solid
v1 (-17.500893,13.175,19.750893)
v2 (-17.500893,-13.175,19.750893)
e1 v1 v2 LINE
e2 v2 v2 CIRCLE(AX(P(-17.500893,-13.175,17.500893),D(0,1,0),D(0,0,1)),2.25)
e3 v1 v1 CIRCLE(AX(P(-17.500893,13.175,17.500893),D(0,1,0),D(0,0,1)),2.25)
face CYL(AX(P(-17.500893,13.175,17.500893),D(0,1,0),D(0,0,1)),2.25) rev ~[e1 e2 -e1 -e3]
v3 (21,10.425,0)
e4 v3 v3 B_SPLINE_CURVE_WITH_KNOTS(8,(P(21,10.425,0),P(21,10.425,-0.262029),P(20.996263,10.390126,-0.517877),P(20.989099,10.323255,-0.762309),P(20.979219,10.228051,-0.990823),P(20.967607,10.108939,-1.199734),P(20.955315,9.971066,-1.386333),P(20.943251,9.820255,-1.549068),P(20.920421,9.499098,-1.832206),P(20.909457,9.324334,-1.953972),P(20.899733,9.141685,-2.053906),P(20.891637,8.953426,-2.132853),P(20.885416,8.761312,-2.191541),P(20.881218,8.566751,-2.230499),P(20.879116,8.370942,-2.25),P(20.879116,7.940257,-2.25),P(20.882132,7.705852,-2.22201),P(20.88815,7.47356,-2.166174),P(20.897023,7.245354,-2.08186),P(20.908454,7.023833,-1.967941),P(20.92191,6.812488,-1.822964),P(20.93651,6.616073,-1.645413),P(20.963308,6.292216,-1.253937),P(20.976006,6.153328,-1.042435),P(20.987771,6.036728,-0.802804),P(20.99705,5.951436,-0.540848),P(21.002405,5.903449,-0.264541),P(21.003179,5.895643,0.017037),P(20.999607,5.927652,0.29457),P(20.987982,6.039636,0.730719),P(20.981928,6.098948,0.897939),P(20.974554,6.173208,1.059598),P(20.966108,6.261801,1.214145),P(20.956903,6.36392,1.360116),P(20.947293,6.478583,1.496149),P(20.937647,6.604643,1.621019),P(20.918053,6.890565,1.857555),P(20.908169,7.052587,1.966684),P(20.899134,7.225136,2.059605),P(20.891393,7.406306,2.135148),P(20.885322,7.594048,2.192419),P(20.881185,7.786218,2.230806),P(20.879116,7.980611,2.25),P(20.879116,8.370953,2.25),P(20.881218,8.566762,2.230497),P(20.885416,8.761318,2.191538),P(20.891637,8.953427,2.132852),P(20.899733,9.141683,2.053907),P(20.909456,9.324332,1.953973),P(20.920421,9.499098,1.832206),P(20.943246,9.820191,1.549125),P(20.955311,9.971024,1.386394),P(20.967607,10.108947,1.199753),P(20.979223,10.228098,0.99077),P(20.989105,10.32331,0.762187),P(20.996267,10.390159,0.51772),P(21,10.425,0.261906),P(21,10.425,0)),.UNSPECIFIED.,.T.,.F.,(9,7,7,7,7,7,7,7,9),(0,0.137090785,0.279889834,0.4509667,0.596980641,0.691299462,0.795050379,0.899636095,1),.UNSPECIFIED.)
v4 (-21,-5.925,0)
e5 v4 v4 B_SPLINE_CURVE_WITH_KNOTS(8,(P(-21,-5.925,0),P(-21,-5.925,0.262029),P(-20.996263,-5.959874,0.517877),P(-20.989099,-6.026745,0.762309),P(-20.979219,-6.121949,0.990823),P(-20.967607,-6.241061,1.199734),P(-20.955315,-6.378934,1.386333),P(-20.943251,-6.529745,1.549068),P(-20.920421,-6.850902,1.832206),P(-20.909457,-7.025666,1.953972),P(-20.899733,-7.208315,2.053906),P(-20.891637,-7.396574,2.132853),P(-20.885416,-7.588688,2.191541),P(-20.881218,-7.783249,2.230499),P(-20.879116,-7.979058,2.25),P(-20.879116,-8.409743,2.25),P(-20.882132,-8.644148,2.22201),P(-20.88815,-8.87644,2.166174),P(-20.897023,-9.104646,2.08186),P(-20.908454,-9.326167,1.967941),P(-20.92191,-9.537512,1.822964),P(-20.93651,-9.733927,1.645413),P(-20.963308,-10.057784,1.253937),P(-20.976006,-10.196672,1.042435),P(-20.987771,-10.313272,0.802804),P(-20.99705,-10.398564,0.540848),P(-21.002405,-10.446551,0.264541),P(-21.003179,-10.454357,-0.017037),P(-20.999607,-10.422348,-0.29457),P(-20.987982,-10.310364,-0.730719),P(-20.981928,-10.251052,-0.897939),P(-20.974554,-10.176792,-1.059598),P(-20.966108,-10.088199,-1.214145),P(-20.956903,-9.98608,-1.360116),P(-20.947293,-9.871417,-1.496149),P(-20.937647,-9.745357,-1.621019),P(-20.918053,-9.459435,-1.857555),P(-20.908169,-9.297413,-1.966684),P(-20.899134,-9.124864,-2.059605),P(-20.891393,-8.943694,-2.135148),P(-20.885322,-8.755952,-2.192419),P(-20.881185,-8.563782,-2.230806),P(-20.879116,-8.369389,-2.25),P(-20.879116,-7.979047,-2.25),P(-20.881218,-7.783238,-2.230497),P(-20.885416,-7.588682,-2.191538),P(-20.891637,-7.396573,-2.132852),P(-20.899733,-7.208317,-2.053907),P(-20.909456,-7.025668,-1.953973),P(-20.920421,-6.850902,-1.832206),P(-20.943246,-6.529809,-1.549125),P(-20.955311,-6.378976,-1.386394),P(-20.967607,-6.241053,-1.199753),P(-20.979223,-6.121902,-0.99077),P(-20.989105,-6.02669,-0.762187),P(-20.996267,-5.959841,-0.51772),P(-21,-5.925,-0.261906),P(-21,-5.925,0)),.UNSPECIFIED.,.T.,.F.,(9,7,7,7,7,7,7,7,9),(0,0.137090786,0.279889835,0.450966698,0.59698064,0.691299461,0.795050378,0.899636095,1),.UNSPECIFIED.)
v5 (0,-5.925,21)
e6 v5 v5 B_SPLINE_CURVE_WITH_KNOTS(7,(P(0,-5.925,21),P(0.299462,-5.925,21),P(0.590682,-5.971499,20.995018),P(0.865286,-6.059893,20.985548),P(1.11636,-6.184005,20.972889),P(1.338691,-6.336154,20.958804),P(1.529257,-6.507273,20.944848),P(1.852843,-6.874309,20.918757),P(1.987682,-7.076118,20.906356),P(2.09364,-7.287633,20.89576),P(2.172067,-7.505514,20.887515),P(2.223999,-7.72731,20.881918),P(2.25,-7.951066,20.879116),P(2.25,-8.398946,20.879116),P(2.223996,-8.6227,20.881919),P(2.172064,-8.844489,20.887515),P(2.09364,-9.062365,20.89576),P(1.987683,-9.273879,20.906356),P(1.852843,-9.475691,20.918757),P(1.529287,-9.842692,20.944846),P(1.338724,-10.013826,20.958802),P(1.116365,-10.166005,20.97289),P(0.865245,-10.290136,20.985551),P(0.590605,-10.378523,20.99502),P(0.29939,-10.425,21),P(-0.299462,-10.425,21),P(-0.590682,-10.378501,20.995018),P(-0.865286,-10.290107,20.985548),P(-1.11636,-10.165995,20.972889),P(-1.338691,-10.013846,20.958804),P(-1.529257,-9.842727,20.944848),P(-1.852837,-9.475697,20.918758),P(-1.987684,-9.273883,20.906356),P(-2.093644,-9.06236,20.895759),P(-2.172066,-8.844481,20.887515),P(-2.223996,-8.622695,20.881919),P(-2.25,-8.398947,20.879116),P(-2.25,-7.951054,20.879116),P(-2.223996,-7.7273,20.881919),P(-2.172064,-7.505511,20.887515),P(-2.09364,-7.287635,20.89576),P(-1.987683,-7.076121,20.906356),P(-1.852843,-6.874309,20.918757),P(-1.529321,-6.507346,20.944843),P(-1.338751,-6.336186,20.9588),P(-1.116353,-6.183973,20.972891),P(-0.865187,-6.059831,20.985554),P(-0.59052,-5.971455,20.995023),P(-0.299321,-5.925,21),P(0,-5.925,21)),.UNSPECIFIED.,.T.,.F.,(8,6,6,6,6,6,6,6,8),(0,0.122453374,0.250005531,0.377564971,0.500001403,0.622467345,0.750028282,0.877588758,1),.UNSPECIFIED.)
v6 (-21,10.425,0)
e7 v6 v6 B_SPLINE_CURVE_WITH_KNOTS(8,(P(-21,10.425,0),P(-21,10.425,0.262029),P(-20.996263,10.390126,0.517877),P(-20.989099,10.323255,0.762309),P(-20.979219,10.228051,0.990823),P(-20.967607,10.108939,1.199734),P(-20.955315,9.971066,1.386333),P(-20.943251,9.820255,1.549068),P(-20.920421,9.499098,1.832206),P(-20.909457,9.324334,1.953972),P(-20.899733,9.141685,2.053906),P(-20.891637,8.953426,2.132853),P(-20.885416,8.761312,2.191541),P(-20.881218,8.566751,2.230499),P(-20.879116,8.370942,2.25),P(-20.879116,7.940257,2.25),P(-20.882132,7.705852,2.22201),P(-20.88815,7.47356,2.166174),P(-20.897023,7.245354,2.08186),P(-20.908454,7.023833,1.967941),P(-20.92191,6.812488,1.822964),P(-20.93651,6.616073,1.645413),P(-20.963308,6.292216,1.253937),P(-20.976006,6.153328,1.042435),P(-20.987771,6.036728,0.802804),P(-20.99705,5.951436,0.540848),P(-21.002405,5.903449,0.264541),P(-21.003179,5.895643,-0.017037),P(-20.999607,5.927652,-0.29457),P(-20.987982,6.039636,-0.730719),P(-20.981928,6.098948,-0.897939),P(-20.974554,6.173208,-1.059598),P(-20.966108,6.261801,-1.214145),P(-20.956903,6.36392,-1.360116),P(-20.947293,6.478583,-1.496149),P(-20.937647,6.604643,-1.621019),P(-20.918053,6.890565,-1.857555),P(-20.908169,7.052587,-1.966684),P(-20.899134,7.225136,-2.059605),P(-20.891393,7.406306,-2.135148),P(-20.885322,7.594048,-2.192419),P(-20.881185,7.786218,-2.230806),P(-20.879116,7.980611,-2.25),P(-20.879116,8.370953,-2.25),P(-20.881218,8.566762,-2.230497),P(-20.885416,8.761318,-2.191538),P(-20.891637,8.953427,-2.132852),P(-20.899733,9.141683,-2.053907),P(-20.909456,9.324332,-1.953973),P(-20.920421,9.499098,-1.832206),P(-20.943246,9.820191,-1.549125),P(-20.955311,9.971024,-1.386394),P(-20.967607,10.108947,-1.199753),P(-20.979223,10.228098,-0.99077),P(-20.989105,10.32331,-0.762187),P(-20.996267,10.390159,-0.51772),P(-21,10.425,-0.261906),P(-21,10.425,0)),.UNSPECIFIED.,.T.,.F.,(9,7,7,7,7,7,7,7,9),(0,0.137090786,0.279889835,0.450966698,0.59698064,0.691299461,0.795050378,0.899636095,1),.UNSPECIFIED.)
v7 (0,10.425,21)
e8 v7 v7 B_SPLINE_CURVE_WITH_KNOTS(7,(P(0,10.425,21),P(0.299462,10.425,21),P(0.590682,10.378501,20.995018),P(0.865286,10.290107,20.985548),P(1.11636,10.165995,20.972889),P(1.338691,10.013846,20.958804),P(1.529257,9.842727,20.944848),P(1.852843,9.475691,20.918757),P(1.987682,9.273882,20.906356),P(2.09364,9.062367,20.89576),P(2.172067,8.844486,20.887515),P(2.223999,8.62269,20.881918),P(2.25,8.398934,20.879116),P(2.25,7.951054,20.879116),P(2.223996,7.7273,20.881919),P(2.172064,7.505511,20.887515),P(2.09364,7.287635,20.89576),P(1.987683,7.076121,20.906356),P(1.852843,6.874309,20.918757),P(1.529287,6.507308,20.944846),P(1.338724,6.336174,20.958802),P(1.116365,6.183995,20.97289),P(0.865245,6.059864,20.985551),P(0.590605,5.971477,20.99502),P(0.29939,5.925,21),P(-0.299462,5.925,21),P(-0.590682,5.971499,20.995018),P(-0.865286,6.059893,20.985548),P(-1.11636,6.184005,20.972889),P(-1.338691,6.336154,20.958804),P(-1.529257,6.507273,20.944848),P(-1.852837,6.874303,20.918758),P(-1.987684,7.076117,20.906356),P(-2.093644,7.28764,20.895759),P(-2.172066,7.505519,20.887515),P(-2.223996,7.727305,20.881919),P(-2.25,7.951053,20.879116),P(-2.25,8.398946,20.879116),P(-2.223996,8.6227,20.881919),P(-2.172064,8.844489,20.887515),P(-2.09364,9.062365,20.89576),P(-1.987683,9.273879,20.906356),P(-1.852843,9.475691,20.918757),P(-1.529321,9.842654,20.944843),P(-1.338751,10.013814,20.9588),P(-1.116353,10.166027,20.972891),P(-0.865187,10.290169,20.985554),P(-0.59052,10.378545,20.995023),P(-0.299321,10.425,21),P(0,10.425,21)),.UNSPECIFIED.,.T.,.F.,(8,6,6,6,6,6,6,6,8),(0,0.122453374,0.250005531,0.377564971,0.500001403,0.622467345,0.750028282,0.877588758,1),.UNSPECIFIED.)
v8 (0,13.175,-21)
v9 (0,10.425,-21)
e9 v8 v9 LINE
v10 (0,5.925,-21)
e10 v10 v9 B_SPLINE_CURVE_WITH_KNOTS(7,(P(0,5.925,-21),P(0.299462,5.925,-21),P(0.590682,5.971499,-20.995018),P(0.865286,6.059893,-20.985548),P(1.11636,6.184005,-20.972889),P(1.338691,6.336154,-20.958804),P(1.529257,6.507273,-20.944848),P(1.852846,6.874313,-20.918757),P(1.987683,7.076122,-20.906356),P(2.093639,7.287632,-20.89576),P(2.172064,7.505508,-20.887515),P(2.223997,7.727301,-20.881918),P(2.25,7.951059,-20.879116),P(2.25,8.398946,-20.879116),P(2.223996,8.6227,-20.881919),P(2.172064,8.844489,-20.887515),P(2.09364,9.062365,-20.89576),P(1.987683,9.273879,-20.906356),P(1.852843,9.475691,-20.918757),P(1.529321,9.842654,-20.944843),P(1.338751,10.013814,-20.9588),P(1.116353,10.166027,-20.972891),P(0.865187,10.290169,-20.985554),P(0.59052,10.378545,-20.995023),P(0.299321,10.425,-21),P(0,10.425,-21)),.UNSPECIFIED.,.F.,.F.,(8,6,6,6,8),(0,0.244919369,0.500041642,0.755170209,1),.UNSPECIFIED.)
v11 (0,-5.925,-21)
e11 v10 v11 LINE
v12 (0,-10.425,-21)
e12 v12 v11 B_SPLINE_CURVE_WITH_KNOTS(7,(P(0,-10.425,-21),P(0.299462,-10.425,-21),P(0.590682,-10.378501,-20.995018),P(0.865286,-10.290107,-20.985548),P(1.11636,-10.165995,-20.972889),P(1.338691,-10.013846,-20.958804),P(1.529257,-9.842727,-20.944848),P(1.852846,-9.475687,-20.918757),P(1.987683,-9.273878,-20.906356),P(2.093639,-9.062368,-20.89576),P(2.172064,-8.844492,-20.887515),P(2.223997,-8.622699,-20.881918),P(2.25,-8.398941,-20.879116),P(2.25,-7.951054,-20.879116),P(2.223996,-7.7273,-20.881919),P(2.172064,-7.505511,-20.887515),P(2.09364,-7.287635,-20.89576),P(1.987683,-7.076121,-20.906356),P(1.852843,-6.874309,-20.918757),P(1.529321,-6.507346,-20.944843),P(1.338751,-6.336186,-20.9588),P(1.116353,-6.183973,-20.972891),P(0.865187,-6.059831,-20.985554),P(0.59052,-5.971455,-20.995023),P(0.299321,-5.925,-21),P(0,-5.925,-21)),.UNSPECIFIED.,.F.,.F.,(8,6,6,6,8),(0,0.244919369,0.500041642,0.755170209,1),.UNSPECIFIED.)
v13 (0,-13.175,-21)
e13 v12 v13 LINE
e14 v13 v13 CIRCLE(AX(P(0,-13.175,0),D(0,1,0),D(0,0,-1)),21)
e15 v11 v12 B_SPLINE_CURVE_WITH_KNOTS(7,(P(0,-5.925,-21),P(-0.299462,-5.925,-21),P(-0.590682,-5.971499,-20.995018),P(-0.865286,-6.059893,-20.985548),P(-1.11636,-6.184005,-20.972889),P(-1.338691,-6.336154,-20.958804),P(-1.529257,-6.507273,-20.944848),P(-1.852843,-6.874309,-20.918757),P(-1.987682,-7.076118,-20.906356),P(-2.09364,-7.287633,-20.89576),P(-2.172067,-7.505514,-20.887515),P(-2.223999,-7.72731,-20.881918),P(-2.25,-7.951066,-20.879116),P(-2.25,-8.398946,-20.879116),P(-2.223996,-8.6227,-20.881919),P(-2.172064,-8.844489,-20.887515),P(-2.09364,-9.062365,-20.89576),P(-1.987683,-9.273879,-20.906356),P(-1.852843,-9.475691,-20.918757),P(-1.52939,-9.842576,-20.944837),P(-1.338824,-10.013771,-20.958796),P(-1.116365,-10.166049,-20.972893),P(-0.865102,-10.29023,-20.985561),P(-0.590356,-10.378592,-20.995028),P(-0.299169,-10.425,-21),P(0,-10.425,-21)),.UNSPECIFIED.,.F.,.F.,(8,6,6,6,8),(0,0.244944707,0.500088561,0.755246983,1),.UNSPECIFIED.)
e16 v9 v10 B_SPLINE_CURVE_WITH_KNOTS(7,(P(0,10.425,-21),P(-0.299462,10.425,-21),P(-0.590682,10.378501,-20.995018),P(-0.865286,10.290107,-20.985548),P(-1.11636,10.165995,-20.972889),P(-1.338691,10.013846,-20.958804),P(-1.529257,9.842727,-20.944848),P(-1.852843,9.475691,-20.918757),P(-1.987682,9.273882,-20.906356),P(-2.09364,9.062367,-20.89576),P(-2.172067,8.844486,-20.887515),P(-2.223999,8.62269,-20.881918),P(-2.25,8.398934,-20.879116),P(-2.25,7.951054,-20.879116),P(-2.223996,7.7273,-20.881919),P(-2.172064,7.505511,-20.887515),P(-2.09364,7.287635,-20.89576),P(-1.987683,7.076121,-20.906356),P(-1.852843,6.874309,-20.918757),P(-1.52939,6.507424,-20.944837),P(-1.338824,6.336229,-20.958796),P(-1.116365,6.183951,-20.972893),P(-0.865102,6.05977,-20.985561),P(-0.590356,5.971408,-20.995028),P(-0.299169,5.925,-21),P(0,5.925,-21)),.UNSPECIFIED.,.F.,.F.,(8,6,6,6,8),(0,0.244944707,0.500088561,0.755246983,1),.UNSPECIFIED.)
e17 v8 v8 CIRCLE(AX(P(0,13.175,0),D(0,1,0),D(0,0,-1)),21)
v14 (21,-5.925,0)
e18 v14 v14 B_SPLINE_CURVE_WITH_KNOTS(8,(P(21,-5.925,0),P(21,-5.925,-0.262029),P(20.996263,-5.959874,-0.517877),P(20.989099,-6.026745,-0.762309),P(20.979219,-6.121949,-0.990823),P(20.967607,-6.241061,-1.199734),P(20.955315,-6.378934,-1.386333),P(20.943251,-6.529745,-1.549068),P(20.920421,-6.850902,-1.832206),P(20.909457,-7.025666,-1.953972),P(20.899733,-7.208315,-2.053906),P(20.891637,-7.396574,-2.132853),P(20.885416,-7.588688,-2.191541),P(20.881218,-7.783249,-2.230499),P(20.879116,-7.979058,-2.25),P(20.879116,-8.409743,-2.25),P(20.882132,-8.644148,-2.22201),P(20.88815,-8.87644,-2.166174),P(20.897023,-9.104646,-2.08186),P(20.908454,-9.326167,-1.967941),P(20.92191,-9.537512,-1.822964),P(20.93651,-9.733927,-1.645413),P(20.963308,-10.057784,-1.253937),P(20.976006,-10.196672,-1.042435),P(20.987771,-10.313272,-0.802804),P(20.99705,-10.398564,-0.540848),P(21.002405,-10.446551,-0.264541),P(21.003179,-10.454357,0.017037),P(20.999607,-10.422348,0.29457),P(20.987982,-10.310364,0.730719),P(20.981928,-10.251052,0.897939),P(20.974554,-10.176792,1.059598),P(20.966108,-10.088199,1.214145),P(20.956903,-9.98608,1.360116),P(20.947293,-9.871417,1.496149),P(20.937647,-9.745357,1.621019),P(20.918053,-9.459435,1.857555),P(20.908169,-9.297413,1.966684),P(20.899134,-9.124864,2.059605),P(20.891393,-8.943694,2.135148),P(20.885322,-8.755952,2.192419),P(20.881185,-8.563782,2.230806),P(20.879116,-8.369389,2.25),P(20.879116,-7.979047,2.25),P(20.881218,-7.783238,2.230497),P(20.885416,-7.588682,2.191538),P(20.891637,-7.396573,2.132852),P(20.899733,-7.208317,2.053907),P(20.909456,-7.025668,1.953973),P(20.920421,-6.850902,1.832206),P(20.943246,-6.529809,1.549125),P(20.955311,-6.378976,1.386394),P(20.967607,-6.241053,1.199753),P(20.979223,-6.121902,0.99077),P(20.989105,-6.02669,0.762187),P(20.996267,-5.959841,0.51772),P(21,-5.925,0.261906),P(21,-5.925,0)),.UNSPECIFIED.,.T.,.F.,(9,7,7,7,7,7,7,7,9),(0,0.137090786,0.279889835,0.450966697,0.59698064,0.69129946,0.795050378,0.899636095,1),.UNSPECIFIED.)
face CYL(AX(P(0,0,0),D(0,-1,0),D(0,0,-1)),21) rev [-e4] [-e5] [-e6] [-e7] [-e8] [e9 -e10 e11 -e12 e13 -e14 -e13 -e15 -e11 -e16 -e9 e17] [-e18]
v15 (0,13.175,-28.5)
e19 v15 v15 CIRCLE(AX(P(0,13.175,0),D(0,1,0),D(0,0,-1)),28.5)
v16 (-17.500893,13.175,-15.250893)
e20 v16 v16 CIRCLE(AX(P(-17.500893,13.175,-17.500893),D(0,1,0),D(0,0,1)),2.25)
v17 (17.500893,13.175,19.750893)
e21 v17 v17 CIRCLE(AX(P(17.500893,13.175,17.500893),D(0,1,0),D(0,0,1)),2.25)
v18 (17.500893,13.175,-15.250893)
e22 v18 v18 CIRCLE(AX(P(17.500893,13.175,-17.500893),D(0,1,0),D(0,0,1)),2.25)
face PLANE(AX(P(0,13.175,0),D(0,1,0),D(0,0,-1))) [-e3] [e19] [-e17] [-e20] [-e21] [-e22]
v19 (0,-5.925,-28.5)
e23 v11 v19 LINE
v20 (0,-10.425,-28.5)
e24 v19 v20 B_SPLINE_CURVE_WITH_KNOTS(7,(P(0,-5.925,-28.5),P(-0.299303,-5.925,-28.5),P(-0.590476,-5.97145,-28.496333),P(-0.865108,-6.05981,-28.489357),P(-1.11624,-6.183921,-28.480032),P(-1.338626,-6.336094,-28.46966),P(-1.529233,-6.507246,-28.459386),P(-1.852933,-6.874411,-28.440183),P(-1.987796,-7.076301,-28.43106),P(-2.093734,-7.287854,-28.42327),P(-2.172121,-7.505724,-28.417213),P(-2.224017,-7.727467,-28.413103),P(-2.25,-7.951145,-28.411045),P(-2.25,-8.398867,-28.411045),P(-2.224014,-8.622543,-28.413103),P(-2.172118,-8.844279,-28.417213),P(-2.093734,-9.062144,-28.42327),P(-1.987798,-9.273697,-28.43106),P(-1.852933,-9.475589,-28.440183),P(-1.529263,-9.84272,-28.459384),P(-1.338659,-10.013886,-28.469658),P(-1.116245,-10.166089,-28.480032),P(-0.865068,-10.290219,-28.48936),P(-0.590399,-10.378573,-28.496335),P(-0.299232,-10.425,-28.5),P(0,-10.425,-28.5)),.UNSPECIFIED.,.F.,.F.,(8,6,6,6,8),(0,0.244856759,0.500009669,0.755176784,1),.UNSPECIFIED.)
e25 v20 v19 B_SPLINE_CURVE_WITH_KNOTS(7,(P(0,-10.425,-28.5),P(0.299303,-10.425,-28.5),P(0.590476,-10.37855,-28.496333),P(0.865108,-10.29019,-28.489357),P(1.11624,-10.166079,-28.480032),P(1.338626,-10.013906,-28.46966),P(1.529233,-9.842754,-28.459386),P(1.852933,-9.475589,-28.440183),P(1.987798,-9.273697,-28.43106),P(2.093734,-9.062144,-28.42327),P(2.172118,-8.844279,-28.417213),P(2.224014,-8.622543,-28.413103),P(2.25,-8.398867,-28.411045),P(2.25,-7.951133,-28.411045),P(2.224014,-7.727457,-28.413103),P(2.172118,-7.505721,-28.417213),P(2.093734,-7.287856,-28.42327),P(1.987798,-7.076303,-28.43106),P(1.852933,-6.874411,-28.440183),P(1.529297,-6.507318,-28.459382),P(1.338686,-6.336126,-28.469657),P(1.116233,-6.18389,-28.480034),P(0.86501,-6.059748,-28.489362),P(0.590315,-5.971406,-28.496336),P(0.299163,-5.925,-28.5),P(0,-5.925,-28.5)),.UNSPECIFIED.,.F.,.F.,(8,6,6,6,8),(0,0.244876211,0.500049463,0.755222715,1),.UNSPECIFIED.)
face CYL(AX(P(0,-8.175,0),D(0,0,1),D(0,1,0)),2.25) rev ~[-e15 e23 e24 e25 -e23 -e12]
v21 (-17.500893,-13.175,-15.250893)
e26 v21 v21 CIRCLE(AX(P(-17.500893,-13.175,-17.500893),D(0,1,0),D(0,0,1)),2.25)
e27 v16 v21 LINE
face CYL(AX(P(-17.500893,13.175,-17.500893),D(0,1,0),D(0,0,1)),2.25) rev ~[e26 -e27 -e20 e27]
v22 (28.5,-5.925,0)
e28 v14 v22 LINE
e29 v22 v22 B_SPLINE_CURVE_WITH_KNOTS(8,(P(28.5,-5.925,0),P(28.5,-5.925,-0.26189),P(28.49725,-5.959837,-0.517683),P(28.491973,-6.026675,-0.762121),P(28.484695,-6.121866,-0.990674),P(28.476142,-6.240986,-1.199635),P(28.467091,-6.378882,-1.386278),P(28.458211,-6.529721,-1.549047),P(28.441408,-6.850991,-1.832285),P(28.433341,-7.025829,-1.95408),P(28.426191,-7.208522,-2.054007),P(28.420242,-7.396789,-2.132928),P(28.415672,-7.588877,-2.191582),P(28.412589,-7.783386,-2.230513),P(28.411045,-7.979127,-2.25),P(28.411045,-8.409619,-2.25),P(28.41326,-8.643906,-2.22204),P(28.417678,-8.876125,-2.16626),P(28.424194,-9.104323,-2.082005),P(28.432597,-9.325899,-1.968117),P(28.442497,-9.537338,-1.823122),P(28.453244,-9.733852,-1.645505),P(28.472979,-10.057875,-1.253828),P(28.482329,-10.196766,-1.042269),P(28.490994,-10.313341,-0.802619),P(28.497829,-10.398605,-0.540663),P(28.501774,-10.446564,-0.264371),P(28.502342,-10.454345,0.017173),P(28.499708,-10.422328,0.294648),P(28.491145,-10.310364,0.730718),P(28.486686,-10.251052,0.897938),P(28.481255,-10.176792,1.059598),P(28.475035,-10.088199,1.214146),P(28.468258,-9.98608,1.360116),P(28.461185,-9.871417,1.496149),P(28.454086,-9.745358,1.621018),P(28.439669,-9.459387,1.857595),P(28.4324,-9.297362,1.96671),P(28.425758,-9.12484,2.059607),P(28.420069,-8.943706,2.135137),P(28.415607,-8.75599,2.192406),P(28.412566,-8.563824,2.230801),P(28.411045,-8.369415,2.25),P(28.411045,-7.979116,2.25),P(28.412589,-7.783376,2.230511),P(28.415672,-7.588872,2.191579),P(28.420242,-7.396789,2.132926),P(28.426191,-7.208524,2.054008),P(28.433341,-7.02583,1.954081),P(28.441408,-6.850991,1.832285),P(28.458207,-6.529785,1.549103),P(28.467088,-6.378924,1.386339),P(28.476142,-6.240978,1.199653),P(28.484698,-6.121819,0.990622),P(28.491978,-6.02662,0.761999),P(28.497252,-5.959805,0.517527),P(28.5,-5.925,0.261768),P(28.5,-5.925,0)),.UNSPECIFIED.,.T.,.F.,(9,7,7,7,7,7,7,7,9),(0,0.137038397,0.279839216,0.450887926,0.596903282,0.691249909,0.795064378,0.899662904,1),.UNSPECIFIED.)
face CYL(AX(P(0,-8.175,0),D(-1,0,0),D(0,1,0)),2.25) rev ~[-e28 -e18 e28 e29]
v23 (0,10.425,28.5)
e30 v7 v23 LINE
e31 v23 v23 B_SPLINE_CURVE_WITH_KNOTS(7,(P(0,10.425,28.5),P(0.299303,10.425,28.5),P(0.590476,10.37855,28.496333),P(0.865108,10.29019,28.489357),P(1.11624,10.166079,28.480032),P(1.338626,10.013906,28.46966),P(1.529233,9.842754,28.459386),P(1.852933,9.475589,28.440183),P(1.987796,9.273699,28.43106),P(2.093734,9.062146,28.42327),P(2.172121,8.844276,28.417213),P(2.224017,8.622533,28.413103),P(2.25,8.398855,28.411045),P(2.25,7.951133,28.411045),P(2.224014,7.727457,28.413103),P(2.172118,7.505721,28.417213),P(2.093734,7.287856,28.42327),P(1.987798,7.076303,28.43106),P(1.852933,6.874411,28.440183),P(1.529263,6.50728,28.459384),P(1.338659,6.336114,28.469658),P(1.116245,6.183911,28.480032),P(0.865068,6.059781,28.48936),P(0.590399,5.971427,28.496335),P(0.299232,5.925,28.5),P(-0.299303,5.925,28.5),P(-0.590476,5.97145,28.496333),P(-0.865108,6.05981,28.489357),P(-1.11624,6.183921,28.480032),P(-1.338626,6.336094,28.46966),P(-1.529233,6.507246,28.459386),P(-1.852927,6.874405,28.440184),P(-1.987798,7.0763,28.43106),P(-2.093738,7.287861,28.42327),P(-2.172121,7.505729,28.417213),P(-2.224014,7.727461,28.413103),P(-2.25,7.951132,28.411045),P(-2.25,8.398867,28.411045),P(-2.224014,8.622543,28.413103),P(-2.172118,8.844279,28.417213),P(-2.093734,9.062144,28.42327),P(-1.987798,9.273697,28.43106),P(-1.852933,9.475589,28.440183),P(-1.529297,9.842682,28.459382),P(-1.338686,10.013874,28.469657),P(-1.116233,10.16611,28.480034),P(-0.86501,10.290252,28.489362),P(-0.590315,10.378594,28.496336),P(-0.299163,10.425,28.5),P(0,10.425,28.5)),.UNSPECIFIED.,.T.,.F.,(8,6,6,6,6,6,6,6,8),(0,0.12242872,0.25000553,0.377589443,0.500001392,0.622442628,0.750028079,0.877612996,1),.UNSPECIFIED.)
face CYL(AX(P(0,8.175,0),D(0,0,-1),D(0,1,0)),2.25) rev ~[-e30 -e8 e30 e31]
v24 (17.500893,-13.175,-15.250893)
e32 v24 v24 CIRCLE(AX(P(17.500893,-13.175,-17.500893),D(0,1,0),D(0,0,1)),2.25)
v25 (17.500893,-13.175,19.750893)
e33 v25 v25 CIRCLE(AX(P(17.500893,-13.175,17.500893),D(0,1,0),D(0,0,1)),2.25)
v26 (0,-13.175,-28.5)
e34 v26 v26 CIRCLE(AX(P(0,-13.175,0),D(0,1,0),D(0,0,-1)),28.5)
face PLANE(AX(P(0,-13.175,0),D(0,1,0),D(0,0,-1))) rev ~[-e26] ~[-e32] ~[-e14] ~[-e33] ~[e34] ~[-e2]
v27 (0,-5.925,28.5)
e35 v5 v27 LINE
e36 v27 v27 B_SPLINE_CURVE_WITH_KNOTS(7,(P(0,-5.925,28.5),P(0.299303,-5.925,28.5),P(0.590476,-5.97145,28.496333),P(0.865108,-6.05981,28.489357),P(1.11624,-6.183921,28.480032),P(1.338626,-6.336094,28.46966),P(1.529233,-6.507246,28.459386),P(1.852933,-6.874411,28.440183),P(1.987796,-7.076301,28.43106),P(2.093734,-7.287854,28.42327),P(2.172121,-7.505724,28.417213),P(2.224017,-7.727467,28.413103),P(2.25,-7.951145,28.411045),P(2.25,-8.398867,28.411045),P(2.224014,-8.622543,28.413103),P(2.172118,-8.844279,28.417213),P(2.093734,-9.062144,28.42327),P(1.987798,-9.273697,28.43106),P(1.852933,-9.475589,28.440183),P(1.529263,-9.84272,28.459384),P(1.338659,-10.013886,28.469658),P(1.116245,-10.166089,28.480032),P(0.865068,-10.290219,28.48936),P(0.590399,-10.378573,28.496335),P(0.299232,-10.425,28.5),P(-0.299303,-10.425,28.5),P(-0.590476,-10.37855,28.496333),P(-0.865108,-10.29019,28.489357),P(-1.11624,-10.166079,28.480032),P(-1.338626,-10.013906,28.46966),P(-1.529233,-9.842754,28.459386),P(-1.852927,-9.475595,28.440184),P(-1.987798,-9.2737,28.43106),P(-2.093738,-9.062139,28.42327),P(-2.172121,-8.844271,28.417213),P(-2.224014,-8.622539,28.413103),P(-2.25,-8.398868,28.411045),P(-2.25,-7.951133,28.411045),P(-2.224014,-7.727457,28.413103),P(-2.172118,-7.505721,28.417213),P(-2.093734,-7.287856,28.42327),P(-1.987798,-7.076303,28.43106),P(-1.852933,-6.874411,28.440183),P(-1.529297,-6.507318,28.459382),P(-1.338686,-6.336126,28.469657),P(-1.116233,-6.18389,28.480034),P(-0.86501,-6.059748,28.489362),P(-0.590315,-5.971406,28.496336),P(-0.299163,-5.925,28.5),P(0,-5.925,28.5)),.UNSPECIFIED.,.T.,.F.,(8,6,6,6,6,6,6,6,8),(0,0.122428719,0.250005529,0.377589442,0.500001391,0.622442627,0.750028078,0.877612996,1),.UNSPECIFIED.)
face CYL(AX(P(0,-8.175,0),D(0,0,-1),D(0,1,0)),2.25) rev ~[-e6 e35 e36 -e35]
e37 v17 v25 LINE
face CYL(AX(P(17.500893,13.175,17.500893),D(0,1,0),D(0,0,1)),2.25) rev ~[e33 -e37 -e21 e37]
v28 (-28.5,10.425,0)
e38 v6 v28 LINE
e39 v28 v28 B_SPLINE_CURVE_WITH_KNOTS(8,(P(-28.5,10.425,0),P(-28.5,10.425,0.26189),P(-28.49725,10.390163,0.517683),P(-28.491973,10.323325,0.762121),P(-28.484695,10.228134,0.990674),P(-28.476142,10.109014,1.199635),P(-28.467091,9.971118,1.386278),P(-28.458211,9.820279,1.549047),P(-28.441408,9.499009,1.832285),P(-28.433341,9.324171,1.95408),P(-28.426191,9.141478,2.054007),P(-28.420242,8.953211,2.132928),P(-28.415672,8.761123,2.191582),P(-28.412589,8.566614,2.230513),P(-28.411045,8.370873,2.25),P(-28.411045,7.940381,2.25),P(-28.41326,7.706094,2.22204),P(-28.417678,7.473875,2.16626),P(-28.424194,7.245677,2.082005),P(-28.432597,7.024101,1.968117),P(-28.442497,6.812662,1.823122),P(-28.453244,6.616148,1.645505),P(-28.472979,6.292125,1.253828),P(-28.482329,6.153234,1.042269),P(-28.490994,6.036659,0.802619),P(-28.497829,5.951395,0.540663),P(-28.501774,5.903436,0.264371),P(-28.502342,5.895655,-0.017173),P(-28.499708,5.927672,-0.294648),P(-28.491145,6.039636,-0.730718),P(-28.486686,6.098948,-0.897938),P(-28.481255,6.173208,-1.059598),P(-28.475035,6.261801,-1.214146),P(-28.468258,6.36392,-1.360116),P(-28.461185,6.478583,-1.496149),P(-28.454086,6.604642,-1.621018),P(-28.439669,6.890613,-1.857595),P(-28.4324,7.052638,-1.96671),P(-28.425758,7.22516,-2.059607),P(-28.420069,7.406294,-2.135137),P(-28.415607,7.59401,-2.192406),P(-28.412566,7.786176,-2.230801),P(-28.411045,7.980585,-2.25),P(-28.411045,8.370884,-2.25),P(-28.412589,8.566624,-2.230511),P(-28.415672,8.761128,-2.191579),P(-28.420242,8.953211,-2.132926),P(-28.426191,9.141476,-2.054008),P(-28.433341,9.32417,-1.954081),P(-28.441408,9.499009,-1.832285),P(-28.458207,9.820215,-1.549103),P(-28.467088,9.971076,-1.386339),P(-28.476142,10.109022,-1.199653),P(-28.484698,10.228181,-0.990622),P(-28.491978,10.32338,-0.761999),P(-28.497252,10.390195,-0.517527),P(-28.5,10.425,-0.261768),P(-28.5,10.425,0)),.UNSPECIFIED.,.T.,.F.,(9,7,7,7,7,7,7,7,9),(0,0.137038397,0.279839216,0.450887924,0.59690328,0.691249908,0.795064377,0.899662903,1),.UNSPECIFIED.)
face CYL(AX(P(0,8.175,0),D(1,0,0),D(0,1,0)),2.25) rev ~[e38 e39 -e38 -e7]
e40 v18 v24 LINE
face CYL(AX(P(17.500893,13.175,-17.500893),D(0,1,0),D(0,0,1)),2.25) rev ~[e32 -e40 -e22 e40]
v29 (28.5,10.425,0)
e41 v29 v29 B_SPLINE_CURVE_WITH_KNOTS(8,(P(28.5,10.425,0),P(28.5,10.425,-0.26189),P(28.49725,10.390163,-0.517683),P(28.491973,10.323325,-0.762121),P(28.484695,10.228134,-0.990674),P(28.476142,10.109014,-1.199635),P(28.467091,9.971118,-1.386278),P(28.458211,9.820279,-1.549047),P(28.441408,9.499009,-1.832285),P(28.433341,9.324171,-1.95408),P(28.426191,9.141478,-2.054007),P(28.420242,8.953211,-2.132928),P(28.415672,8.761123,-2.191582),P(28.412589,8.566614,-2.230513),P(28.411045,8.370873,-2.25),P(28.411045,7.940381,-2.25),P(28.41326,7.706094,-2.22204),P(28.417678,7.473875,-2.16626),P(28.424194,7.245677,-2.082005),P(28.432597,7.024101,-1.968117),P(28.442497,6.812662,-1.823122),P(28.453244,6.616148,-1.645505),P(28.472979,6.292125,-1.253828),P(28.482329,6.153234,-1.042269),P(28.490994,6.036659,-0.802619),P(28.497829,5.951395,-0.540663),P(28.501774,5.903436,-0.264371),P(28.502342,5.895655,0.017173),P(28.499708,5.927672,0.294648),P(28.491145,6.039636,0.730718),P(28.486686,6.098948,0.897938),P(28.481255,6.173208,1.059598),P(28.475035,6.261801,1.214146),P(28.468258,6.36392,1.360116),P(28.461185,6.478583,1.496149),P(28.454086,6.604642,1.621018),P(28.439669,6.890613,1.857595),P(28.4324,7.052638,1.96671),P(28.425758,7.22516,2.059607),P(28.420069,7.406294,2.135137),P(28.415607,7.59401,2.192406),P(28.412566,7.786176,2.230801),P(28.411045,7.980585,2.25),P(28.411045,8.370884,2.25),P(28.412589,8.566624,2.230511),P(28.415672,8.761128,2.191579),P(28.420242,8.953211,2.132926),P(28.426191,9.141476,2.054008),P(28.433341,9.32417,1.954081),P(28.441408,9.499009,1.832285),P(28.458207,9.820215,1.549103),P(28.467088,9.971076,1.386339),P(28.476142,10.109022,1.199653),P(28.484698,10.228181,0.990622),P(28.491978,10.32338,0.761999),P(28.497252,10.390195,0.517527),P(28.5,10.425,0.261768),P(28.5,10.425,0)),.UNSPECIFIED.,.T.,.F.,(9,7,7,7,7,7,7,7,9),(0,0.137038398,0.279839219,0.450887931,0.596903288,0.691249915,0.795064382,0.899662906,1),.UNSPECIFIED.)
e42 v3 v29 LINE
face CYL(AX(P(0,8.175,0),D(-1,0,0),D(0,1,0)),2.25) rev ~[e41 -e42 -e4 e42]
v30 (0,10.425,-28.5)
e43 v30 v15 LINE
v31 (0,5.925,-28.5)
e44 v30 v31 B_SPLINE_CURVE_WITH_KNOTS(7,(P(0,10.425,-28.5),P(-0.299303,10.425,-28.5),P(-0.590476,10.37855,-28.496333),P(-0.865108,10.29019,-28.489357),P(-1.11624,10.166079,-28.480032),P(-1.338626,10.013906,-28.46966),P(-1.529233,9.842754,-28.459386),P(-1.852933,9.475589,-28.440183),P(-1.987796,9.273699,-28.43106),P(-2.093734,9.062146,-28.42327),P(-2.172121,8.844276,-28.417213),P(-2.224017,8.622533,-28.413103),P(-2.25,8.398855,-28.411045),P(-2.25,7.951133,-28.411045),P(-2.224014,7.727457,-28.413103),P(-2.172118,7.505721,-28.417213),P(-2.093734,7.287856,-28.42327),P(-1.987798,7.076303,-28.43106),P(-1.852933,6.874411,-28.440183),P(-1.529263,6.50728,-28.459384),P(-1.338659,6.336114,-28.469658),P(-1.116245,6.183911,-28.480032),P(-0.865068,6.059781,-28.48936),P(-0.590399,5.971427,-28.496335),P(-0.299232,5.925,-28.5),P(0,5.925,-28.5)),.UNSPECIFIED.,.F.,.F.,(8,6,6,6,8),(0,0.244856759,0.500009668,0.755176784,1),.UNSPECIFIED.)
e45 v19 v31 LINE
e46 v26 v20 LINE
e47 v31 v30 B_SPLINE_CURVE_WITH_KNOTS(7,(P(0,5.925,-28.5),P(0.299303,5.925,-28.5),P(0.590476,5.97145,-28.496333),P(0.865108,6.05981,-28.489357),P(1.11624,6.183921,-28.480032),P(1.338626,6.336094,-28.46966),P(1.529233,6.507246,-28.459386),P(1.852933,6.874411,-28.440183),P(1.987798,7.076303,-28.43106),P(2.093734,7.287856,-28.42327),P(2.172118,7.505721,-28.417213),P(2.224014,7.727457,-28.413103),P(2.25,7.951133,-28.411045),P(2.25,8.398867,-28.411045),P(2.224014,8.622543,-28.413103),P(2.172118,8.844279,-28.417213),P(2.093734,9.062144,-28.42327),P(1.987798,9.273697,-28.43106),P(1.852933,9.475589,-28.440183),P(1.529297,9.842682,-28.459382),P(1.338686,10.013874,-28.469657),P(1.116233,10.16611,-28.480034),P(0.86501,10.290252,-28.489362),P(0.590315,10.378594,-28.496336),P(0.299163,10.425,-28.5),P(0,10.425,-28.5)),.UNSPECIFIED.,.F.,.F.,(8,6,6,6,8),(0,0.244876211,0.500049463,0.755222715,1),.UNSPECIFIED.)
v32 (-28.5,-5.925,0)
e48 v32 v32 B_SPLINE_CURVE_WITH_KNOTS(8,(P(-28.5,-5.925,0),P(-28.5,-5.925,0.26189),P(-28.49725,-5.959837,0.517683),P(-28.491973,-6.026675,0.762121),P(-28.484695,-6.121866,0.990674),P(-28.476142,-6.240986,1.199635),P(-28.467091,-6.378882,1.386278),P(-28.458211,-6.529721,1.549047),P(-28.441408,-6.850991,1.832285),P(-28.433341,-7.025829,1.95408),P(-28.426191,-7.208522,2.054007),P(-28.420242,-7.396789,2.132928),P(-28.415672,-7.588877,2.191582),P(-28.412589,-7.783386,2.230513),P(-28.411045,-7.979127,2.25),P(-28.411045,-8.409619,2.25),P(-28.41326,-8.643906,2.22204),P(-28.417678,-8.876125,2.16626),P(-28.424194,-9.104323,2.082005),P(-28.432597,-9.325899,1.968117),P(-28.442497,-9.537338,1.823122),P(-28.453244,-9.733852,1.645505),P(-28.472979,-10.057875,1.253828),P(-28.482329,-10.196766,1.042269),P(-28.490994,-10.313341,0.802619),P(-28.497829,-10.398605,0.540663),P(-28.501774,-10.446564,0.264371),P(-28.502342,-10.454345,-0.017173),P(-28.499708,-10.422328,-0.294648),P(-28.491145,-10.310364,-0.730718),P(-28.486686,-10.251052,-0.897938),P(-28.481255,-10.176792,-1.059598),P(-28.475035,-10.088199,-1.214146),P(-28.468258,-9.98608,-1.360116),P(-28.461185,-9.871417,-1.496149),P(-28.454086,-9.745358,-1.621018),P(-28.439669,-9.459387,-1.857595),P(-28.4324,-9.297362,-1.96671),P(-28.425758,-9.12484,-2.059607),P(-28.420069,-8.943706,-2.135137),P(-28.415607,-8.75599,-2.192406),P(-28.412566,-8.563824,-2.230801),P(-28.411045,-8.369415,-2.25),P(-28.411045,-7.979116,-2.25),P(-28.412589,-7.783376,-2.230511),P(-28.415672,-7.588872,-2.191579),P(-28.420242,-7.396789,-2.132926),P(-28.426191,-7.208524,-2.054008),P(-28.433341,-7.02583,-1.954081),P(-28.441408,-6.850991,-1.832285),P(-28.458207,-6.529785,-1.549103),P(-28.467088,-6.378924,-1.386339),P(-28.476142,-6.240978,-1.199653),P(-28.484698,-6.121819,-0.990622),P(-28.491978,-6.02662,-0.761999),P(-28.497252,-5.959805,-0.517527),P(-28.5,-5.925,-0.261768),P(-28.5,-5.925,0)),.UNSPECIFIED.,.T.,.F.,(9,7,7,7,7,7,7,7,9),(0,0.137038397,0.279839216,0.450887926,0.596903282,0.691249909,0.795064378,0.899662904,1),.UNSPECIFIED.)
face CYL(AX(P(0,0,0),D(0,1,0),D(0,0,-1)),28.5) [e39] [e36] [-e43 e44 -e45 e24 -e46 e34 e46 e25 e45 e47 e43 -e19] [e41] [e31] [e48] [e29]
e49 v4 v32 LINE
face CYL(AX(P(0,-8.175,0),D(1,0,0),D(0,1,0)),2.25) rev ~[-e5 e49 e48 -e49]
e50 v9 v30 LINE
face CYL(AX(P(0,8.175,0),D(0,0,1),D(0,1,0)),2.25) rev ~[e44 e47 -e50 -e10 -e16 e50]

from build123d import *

# Parameters (mm, degrees)
SKETCH1_R           = 28.5
SKETCH1_R_2         = 21
BOSS_EXTRUDE1_DEPTH = 13.175
SKETCH2_R           = 2.25
CUT_EXTRUDE1_DEPTH  = 43.403780787
CIRPATTERN1_COUNT   = 4
SKETCH3_R           = 2.25
CUT_EXTRUDE2_DEPTH  = 49.154153681


with BuildPart() as part:
    # Sketch1 → Boss-Extrude1 (new, symmetric)
    with BuildSketch(Plane(origin=(0, 0, 0), x_dir=(1, 0, 0), z_dir=(0, 1, 0))):
        with Locations(Location((0, 0, 0), (0, 0, 90))):
            Circle(SKETCH1_R)
        with Locations(Location((0, 0, 0), (0, 0, 90))):
            Circle(SKETCH1_R_2, mode=Mode.SUBTRACT)
    extrude(amount=BOSS_EXTRUDE1_DEPTH, both=True)

    # Sketch2 → Cut-Extrude1 (cut, through all)
    with BuildSketch(Plane.XY):
        with Locations(Location((0, 8.175, 0), (0, 0, 90))):
            Circle(SKETCH2_R)
        with Locations(Location((0, -8.175, 0), (0, 0, 90))):
            Circle(SKETCH2_R)
    cut_extrude1 = extrude(amount=-CUT_EXTRUDE1_DEPTH, mode=Mode.SUBTRACT)

    # CirPattern1: Cut-Extrude1 ×4 about axis
    cirpattern1_axis = Axis((0, 13.175, 0), (0, -1, 0))
    for i in range(1, CIRPATTERN1_COUNT):
        add(cut_extrude1.rotate(cirpattern1_axis, i * 360 / CIRPATTERN1_COUNT), mode=Mode.SUBTRACT)

    # Sketch3 → Cut-Extrude2 (cut, through all)
    with BuildSketch(Plane(origin=(0, 13.175, 0), x_dir=(1, 0, 0), z_dir=(0, 1, 0))):
        with Locations(Location((17.500892834, 17.500892834, 0), (0, 0, 270))):
            Circle(SKETCH3_R)
        with Locations(Location((17.500892834, -17.500892834, 0), (0, 0, 270))):
            Circle(SKETCH3_R)
        with Locations(Location((-17.500892834, -17.500892834, 0), (0, 0, 270))):
            Circle(SKETCH3_R)
        with Locations(Location((-17.500892834, 17.500892834, 0), (0, 0, 270))):
            Circle(SKETCH3_R)
    extrude(amount=-CUT_EXTRUDE2_DEPTH, mode=Mode.SUBTRACT)


solid = part.part
